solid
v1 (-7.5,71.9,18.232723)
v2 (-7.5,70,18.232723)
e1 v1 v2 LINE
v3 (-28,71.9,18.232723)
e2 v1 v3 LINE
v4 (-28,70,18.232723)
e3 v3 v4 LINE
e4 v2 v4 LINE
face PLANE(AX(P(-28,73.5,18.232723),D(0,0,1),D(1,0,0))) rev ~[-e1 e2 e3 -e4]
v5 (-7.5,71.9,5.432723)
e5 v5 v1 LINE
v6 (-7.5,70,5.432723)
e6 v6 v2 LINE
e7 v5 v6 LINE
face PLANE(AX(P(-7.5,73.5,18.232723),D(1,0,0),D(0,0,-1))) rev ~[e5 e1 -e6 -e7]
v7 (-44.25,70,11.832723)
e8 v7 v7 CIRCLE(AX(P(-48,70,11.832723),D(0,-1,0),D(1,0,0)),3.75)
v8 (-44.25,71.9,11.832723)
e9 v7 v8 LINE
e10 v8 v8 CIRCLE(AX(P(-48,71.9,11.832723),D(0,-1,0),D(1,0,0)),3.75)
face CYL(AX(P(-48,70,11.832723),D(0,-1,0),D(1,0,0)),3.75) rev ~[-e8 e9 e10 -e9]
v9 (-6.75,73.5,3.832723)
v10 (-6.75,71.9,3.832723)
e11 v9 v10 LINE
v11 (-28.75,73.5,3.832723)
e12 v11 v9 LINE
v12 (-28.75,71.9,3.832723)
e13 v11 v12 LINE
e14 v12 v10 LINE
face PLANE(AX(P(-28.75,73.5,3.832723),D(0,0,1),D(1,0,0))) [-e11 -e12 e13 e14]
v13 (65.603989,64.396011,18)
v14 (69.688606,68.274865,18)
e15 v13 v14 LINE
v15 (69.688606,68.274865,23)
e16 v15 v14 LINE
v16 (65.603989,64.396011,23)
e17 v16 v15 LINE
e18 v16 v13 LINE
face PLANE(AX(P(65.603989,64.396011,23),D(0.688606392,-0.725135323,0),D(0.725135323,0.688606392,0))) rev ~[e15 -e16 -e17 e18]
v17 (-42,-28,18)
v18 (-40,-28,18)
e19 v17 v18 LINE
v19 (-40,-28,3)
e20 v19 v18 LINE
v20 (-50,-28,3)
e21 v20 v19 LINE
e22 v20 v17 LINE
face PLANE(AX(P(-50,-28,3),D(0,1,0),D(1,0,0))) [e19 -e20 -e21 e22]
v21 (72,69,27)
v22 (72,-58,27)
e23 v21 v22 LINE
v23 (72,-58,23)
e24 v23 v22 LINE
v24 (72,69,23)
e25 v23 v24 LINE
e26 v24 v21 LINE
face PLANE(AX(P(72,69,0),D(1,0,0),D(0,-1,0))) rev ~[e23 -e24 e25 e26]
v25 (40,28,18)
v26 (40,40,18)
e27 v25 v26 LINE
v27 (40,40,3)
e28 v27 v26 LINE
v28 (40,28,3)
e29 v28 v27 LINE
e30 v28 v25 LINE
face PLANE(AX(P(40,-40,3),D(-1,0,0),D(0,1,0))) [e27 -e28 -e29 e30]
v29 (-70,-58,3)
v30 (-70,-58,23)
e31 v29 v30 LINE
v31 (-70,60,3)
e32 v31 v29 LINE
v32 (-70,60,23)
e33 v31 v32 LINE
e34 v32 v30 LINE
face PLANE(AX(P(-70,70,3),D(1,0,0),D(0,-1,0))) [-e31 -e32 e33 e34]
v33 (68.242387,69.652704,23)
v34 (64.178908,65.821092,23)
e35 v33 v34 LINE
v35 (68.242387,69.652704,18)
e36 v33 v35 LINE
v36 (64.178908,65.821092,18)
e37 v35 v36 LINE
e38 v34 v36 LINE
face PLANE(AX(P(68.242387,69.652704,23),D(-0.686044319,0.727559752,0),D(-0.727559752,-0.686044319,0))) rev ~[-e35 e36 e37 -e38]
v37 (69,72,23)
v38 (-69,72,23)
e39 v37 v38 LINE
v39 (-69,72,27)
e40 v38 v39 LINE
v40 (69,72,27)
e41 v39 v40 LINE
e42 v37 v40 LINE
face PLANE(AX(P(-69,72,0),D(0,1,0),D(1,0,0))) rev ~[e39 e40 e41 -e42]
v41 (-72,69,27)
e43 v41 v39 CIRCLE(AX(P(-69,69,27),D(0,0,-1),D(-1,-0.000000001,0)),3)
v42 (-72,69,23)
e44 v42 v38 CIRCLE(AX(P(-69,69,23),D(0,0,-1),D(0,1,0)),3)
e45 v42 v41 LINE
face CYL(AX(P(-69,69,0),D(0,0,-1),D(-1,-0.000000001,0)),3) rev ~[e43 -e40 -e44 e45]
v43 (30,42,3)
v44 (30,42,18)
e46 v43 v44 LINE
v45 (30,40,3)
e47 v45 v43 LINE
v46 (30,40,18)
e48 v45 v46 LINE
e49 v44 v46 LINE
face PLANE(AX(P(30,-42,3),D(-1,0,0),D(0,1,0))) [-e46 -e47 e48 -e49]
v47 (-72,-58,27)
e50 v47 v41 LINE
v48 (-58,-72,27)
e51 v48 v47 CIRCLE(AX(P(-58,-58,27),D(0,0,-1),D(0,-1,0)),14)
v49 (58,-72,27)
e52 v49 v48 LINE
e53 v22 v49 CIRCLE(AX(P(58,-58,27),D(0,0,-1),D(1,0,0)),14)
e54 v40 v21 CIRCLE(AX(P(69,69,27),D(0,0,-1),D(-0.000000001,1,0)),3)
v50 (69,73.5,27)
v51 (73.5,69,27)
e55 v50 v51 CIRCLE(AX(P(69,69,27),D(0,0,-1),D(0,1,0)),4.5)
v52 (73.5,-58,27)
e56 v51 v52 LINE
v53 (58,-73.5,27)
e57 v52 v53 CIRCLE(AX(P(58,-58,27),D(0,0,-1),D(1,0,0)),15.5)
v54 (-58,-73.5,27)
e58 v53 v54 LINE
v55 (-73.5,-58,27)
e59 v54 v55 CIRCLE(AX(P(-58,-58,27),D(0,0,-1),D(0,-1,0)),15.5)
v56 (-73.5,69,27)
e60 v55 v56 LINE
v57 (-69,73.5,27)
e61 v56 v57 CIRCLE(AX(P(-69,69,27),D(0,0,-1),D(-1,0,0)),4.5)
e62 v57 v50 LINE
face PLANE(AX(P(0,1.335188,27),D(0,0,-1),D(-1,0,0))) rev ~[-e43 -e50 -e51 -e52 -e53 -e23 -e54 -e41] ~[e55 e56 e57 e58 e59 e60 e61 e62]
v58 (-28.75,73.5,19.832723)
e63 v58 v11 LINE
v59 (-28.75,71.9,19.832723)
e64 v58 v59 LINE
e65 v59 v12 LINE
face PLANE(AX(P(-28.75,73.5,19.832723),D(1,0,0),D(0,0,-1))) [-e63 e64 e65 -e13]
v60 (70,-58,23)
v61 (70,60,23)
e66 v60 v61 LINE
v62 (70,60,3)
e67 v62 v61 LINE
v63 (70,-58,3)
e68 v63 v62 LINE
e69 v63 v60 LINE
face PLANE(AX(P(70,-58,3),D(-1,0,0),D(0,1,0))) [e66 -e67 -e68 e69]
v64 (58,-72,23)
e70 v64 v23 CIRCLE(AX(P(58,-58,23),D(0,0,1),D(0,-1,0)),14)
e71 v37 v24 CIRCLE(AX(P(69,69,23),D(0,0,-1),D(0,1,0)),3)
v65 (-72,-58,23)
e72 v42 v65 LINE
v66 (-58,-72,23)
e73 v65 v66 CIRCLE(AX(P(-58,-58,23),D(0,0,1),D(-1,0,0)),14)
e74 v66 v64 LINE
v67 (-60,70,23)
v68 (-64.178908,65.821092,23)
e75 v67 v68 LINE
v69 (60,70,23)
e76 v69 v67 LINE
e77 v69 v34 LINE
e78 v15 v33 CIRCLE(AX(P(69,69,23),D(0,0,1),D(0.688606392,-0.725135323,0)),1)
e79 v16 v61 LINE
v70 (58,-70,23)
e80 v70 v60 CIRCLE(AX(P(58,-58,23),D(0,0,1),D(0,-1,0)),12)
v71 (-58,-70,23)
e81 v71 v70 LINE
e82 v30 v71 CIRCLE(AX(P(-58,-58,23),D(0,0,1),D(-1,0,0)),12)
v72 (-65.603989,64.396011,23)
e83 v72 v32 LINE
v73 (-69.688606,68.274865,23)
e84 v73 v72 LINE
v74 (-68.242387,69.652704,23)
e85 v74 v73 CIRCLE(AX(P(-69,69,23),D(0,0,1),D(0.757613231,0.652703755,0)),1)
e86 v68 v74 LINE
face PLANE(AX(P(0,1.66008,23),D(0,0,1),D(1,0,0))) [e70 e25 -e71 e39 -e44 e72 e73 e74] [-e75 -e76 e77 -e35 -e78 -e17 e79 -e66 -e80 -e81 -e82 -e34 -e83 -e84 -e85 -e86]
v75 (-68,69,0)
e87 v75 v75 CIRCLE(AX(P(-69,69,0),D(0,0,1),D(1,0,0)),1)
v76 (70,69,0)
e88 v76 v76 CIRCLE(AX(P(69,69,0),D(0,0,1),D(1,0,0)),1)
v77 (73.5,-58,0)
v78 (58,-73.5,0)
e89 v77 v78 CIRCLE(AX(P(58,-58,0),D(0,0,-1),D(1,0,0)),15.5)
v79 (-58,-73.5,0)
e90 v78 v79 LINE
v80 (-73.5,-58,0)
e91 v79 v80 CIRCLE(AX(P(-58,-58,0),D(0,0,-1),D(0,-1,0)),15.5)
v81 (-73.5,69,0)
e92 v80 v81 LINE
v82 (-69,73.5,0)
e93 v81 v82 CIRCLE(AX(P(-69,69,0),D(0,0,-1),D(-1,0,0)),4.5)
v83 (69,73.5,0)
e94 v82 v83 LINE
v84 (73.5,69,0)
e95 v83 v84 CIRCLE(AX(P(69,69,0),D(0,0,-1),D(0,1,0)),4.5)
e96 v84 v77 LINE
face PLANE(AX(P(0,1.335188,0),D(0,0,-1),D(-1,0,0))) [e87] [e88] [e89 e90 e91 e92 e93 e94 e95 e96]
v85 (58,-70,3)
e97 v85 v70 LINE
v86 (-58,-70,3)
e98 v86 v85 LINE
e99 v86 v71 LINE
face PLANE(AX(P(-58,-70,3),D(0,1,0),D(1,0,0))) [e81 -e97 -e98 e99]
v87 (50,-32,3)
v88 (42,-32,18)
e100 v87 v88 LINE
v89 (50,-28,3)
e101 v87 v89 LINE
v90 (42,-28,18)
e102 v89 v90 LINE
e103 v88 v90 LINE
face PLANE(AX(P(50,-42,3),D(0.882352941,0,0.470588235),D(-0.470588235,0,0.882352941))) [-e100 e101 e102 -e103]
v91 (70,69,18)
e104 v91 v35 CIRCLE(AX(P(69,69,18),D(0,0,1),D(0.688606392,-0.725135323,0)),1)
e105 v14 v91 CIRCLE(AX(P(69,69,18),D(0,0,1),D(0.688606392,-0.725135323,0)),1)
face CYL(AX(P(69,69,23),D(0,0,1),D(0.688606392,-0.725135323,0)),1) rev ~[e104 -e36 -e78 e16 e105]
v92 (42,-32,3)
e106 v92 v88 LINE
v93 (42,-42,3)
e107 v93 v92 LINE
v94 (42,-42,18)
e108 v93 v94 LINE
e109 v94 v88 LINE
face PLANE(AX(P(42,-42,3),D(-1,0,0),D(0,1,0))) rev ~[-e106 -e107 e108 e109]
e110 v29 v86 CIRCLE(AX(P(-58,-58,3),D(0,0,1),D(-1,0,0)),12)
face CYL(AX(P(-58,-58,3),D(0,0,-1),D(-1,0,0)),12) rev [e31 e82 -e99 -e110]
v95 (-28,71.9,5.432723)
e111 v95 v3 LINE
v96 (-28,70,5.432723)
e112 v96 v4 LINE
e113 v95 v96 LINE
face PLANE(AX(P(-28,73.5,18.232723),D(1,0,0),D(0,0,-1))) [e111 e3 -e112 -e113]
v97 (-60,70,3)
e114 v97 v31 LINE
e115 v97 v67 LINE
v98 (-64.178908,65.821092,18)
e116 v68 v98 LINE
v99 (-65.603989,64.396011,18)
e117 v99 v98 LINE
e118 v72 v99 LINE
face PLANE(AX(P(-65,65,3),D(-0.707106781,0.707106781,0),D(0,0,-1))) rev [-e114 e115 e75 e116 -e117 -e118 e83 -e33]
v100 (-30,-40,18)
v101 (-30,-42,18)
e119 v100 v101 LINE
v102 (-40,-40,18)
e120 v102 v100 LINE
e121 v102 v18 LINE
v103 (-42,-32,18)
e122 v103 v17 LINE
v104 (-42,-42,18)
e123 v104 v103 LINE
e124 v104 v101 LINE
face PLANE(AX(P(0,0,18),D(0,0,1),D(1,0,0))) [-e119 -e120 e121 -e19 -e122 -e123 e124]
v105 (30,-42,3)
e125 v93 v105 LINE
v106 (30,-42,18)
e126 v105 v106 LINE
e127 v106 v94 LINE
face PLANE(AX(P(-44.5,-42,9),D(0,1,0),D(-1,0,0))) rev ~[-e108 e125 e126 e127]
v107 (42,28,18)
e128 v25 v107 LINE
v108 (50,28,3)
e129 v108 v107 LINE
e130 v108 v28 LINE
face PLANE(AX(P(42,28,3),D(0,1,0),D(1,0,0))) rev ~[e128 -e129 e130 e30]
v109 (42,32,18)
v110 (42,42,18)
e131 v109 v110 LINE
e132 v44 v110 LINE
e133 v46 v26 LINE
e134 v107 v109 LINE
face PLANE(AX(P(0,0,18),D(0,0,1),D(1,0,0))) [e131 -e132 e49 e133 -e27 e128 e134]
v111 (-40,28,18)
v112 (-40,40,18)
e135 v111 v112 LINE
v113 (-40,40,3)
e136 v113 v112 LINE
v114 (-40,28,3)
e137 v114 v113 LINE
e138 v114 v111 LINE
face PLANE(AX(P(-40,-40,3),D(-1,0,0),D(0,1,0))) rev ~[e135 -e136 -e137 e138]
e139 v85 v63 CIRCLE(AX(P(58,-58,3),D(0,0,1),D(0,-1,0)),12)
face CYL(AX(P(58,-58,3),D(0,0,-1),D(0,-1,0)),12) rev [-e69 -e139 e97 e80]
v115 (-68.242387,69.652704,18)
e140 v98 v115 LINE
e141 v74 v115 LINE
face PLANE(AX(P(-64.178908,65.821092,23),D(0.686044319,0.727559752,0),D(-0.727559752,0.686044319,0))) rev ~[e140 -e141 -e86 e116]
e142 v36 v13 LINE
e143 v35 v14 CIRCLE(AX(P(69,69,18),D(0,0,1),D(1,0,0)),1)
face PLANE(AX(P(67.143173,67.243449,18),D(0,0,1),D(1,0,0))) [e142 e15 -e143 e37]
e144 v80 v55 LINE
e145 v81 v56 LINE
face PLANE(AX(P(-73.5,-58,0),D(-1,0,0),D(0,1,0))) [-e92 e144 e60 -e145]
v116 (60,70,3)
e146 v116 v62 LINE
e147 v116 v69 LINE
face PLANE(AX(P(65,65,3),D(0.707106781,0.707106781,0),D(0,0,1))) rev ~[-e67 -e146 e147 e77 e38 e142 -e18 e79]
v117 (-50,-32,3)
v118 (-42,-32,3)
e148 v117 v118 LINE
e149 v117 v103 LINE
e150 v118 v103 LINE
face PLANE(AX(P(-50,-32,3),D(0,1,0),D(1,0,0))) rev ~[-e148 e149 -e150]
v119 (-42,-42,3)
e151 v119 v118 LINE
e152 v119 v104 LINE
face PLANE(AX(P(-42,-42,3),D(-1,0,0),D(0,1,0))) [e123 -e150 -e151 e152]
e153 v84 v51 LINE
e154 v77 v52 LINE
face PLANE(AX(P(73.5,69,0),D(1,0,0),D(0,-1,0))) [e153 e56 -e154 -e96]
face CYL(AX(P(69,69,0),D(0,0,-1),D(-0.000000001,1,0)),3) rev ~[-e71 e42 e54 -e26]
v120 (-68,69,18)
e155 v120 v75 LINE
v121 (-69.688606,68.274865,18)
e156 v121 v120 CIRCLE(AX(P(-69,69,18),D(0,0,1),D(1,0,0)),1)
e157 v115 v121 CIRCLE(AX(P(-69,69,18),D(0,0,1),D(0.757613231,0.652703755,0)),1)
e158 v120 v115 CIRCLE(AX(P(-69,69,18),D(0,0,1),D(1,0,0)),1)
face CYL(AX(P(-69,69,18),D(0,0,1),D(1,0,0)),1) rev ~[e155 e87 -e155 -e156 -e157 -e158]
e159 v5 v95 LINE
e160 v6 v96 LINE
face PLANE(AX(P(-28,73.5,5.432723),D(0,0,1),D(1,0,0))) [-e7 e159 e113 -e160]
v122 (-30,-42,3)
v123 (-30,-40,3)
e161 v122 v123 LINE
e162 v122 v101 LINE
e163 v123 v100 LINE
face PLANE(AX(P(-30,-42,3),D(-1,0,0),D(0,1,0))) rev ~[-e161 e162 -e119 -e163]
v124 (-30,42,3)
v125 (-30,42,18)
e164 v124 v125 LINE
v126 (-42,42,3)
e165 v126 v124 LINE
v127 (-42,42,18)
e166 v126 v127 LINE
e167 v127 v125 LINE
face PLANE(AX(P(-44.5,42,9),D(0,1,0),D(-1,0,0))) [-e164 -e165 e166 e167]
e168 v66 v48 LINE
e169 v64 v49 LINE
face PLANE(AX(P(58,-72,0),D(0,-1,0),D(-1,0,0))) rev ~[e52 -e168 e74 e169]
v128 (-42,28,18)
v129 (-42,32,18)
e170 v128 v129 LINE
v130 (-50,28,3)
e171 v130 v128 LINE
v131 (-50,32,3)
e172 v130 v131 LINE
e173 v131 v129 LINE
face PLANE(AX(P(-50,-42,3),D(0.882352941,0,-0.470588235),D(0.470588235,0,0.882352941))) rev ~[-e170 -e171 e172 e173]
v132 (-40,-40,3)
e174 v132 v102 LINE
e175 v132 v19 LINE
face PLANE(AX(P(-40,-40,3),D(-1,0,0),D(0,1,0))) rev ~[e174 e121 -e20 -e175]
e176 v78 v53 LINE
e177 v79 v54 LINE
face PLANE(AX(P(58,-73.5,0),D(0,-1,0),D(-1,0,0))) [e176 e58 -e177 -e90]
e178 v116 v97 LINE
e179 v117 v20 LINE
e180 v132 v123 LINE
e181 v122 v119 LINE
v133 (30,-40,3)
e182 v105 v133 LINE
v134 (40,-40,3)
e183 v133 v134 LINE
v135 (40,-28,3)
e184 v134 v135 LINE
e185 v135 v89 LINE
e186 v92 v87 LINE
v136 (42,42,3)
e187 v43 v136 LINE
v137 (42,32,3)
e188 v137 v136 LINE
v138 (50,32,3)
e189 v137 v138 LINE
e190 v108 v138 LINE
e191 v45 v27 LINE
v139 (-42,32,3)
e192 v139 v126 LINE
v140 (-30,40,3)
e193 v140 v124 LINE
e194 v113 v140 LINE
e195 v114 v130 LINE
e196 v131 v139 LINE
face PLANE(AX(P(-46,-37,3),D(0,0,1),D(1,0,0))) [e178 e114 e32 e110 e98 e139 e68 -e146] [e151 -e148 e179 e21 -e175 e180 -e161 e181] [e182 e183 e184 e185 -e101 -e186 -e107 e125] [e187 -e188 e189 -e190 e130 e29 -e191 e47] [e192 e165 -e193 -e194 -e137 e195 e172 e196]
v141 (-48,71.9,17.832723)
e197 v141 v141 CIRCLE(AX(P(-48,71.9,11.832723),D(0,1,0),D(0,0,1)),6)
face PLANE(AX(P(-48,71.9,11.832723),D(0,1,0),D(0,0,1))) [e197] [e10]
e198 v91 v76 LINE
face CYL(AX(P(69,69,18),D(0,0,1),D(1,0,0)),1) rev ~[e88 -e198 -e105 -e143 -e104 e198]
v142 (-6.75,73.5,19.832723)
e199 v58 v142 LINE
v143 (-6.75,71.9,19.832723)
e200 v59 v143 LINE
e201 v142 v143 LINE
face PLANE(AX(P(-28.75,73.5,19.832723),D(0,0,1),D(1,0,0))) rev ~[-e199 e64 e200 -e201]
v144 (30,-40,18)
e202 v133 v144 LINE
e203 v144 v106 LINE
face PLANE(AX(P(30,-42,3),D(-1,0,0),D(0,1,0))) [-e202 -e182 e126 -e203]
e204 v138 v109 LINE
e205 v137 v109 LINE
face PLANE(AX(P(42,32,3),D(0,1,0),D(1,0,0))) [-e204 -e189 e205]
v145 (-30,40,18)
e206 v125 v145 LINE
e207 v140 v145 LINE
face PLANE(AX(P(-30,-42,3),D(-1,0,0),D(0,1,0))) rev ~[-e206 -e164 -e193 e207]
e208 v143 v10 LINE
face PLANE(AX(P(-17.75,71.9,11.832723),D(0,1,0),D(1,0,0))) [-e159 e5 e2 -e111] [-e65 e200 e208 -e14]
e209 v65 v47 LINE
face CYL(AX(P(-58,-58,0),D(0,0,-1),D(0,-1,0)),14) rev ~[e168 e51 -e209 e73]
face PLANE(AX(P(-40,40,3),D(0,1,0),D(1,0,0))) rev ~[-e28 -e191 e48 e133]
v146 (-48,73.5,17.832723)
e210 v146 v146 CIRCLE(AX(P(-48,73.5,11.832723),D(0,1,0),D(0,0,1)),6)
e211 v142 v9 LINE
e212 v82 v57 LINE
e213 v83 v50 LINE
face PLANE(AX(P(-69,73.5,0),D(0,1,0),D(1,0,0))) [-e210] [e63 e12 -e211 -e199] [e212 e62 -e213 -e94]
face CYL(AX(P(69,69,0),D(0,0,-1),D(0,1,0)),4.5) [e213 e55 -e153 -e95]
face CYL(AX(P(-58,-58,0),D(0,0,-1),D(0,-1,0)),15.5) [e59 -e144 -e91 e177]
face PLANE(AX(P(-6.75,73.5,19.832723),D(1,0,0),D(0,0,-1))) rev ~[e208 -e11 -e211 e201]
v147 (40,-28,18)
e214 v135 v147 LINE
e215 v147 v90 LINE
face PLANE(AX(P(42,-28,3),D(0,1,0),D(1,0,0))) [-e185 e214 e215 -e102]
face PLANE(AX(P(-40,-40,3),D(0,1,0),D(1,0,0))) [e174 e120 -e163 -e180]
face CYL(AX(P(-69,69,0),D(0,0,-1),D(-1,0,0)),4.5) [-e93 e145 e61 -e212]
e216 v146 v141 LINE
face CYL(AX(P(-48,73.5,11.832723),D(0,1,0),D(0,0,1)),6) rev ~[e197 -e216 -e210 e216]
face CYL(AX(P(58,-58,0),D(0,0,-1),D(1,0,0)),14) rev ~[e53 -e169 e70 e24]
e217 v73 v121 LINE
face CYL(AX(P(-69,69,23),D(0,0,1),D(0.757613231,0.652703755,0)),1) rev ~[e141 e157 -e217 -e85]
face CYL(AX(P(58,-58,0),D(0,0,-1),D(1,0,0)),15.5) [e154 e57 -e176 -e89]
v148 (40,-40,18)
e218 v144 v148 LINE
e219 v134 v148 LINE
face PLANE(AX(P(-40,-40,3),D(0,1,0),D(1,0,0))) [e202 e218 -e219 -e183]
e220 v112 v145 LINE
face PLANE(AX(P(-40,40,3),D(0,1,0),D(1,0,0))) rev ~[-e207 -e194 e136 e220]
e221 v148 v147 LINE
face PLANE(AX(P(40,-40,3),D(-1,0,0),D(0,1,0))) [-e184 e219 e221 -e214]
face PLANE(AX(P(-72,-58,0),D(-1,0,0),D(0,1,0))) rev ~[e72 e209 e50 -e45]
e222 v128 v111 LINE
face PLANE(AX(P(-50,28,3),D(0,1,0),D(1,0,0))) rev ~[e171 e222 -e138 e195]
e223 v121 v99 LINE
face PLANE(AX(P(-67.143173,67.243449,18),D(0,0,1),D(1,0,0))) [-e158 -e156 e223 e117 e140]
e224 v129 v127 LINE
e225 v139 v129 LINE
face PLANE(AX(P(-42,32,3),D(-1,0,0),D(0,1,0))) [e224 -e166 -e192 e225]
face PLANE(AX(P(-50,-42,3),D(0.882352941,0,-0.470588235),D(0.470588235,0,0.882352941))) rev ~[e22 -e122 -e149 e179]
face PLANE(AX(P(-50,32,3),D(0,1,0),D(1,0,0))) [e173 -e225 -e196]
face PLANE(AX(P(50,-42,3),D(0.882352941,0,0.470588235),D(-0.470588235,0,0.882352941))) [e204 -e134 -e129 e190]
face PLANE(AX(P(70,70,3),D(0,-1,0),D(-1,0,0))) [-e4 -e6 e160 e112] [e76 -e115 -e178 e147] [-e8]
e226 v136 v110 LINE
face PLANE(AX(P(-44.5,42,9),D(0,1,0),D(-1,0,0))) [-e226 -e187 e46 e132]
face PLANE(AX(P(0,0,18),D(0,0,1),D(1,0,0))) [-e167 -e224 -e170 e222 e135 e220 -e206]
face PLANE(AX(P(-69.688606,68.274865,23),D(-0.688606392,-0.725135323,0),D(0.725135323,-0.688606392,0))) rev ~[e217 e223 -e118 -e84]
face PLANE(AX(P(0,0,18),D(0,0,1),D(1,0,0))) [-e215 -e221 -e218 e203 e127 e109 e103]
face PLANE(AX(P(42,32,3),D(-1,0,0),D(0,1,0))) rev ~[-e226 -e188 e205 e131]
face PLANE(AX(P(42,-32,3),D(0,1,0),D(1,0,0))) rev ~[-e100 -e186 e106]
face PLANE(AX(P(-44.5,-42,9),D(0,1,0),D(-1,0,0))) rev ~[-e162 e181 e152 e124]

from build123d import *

# Parameters (mm, degrees)
BOSS_EXTRUDE1_DEPTH = 3
BOSS_EXTRUDE2_DEPTH = 20
CHAMFER1_SIZE       = 10
SKETCH3_W           = 84
SKETCH3_H           = 84
SKETCH3_W_2         = 80
SKETCH3_H_2         = 80
BOSS_EXTRUDE3_DEPTH = 15
BOSS_EXTRUDE4_DEPTH = 84
SKETCH7_W           = 8
SKETCH7_H           = 10
SKETCH7_H_2         = 56
SKETCH7_W_2         = 60
SKETCH7_H_3         = 84
CUT_EXTRUDE1_DEPTH  = 72
FILLET1_R           = 3
BOSS_EXTRUDE5_DEPTH = 27
SKETCH10_R          = 3.75
CUT_EXTRUDE2_DEPTH  = 26
CUT_EXTRUDE3_DEPTH  = 5
SKETCH12_R          = 1
CUT_EXTRUDE4_DEPTH  = 33
SKETCH14_R          = 6
CUT_EXTRUDE5_DEPTH  = 1.6
SKETCH15_W          = 20.5
SKETCH15_H          = 12.8
CUT_EXTRUDE6_DEPTH  = 9.6
SKETCH16_W          = 22
SKETCH16_H          = 16
CUT_EXTRUDE7_DEPTH  = 1.6
SKETCH18_W          = 84
SKETCH18_H          = 56
CUT_EXTRUDE8_DEPTH  = 15


with BuildPart() as part:
    # Sketch1 → Boss-Extrude1 (new body)
    with BuildSketch(Plane.XY):
        with BuildLine():
            Line((58, -72), (-58, -72))
            ThreePointArc((-58, -72), (-67.899494937, -67.899494937), (-72, -58))
            Line((-72, -58), (-72, 72))
            Line((-72, 72), (72, 72))
            Line((72, 72), (72, -58))
            ThreePointArc((72, -58), (67.899494937, -67.899494937), (58, -72))
        make_face()
    extrude(amount=BOSS_EXTRUDE1_DEPTH)

    # Sketch2 → Boss-Extrude2 (add)
    with BuildSketch(Plane.XY.offset(3)):
        with BuildLine():
            Line((-72, 72), (-72, -58))
            ThreePointArc((-72, -58), (-67.899494937, -67.899494937), (-58, -72))
            Line((-58, -72), (58, -72))
            ThreePointArc((58, -72), (67.899494937, -67.899494937), (72, -58))
            Line((72, -58), (72, 72))
            Line((72, 72), (-72, 72))
        make_face()
        with BuildLine():
            Line((-70, 70), (-70, -58))
            ThreePointArc((-70, -58), (-66.485281374, -66.485281374), (-58, -70))
            Line((-58, -70), (58, -70))
            ThreePointArc((58, -70), (66.485281374, -66.485281374), (70, -58))
            Line((70, -58), (70, 70))
            Line((70, 70), (-70, 70))
        make_face(mode=Mode.SUBTRACT)
    extrude(amount=BOSS_EXTRUDE2_DEPTH)

    # Chamfer1
    chamfer1_edges = [part.edges().sort_by_distance(p)[0] for p in [
        (-70, 70, 13),
        (70, 70, 13),
    ]]
    chamfer(chamfer1_edges, length=CHAMFER1_SIZE)

    # Sketch3 → Boss-Extrude3 (add)
    with BuildSketch(Plane.XY.offset(3)):
        Rectangle(SKETCH3_W, SKETCH3_H)
        Rectangle(SKETCH3_W_2, SKETCH3_H_2, mode=Mode.SUBTRACT)
    extrude(amount=BOSS_EXTRUDE3_DEPTH)

    # Sketch6 → Boss-Extrude4 (add)
    with BuildSketch(Plane.XZ.offset(42)):
        Polygon((-42, 3), (-50, 3), (-42, 18), align=None)
        Polygon((42, 18), (42, 3), (50, 3), align=None)
    extrude(amount=-BOSS_EXTRUDE4_DEPTH)

    # Sketch7 → Cut-Extrude1 (cut)
    with BuildSketch(Plane.XY.offset(3)):
        with Locations((-46, 37)):
            Rectangle(SKETCH7_W, SKETCH7_H)
        with Locations((-46, 0)):
            Rectangle(SKETCH7_W, SKETCH7_H_2)
        with Locations((-46, -37)):
            Rectangle(SKETCH7_W, SKETCH7_H)
        with Locations((46, -37)):
            Rectangle(SKETCH7_W, SKETCH7_H)
        with Locations((46, 0)):
            Rectangle(SKETCH7_W, SKETCH7_H_2)
        with Locations((46, 37)):
            Rectangle(SKETCH7_W, SKETCH7_H)
        Rectangle(SKETCH7_W_2, SKETCH7_H_3)
    extrude(amount=CUT_EXTRUDE1_DEPTH, mode=Mode.SUBTRACT)

    # Fillet1
    fillet1_edges = [part.edges().sort_by_distance(p)[0] for p in [
        (-72, 72, 11.5),
        (72, 72, 11.5),
    ]]
    fillet(fillet1_edges, radius=FILLET1_R)

    # Sketch9 → Boss-Extrude5 (add)
    with BuildSketch(Plane(origin=(0, 0, 0), x_dir=(-1, 0, 0), z_dir=(0, 0, -1))):
        with BuildLine():
            Line((73.5, -58), (73.5, 69))
            ThreePointArc((73.5, 69), (72.181980515, 72.181980515), (69, 73.5))
            Line((69, 73.5), (-69, 73.5))
            ThreePointArc((-69, 73.5), (-72.181980515, 72.181980515), (-73.5, 69))
            Line((-73.5, 69), (-73.5, -58))
            ThreePointArc((-73.5, -58), (-68.960155108, -68.960155108), (-58, -73.5))
            Line((-58, -73.5), (58, -73.5))
            ThreePointArc((58, -73.5), (68.960155108, -68.960155108), (73.5, -58))
        make_face()
        with BuildLine():
            Line((72, -58), (72, 69))
            ThreePointArc((72, 69), (71.121320344, 71.121320344), (69, 72))
            Line((69, 72), (-69, 72))
            ThreePointArc((-69, 72), (-71.121320344, 71.121320344), (-72, 69))
            Line((-72, 69), (-72, -58))
            ThreePointArc((-72, -58), (-67.899494937, -67.899494937), (-58, -72))
            Line((-58, -72), (58, -72))
            ThreePointArc((58, -72), (67.899494937, -67.899494937), (72, -58))
        make_face(mode=Mode.SUBTRACT)
    extrude(amount=-BOSS_EXTRUDE5_DEPTH)

    # Sketch10 → Cut-Extrude2 (cut)
    with BuildSketch(Plane.XZ.offset(-70)):
        with Locations((-48, 11.832723103)):
            Circle(SKETCH10_R)
    extrude(amount=-CUT_EXTRUDE2_DEPTH, mode=Mode.SUBTRACT)

    # Sketch11 → Cut-Extrude3 (cut)
    with BuildSketch(Plane.XY.offset(23)):
        with BuildLine():
            Line((-69.688606392, 68.274864677), (-65.603988879, 64.396011121))
            Line((-65.603988879, 64.396011121), (-64.178908017, 65.821091983))
            Line((-64.178908017, 65.821091983), (-68.242386769, 69.652703755))
            ThreePointArc((-68.242386769, 69.652703755), (-69.689783022, 69.724016148), (-69.688606392, 68.274864677))
        make_face()
        with BuildLine():
            Line((64.178908017, 65.821091983), (65.603988879, 64.396011121))
            Line((65.603988879, 64.396011121), (69.688606392, 68.274864677))
            ThreePointArc((69.688606392, 68.274864677), (69.689783022, 69.724016148), (68.242386769, 69.652703755))
            Line((68.242386769, 69.652703755), (64.178908017, 65.821091983))
        make_face()
    extrude(amount=-CUT_EXTRUDE3_DEPTH, mode=Mode.SUBTRACT)

    # Sketch12 → Cut-Extrude4 (cut)
    with BuildSketch(Plane.XY.offset(18)):
        with Locations((-69, 69)):
            Circle(SKETCH12_R)
        with Locations((69, 69)):
            Circle(SKETCH12_R)
    extrude(amount=-CUT_EXTRUDE4_DEPTH, mode=Mode.SUBTRACT)

    # Sketch14 → Cut-Extrude5 (cut)
    with BuildSketch(Plane(origin=(0, 73.5, 0), x_dir=(1, 0, 0), z_dir=(0, 1, 0))):
        with Locations(Location((-48, -11.832723103, 0), (0, 0, 270))):
            Circle(SKETCH14_R)
    extrude(amount=-CUT_EXTRUDE5_DEPTH, mode=Mode.SUBTRACT)

    # Sketch15 → Cut-Extrude6 (cut)
    with BuildSketch(Plane(origin=(0, 73.5, 0), x_dir=(1, 0, 0), z_dir=(0, 1, 0))):
        with Locations((-17.75, -11.832723103)):
            Rectangle(SKETCH15_W, SKETCH15_H)
    extrude(amount=-CUT_EXTRUDE6_DEPTH, mode=Mode.SUBTRACT)

    # Sketch16 → Cut-Extrude7 (cut)
    with BuildSketch(Plane(origin=(0, 73.5, 0), x_dir=(1, 0, 0), z_dir=(0, 1, 0))):
        with Locations((-17.75, -11.832723103)):
            Rectangle(SKETCH16_W, SKETCH16_H)
    extrude(amount=-CUT_EXTRUDE7_DEPTH, mode=Mode.SUBTRACT)

    # Sketch18 → Cut-Extrude8 (cut)
    with BuildSketch(Plane.XY.offset(18)):
        Rectangle(SKETCH18_W, SKETCH18_H)
    extrude(amount=-CUT_EXTRUDE8_DEPTH, mode=Mode.SUBTRACT)


solid = part.part
